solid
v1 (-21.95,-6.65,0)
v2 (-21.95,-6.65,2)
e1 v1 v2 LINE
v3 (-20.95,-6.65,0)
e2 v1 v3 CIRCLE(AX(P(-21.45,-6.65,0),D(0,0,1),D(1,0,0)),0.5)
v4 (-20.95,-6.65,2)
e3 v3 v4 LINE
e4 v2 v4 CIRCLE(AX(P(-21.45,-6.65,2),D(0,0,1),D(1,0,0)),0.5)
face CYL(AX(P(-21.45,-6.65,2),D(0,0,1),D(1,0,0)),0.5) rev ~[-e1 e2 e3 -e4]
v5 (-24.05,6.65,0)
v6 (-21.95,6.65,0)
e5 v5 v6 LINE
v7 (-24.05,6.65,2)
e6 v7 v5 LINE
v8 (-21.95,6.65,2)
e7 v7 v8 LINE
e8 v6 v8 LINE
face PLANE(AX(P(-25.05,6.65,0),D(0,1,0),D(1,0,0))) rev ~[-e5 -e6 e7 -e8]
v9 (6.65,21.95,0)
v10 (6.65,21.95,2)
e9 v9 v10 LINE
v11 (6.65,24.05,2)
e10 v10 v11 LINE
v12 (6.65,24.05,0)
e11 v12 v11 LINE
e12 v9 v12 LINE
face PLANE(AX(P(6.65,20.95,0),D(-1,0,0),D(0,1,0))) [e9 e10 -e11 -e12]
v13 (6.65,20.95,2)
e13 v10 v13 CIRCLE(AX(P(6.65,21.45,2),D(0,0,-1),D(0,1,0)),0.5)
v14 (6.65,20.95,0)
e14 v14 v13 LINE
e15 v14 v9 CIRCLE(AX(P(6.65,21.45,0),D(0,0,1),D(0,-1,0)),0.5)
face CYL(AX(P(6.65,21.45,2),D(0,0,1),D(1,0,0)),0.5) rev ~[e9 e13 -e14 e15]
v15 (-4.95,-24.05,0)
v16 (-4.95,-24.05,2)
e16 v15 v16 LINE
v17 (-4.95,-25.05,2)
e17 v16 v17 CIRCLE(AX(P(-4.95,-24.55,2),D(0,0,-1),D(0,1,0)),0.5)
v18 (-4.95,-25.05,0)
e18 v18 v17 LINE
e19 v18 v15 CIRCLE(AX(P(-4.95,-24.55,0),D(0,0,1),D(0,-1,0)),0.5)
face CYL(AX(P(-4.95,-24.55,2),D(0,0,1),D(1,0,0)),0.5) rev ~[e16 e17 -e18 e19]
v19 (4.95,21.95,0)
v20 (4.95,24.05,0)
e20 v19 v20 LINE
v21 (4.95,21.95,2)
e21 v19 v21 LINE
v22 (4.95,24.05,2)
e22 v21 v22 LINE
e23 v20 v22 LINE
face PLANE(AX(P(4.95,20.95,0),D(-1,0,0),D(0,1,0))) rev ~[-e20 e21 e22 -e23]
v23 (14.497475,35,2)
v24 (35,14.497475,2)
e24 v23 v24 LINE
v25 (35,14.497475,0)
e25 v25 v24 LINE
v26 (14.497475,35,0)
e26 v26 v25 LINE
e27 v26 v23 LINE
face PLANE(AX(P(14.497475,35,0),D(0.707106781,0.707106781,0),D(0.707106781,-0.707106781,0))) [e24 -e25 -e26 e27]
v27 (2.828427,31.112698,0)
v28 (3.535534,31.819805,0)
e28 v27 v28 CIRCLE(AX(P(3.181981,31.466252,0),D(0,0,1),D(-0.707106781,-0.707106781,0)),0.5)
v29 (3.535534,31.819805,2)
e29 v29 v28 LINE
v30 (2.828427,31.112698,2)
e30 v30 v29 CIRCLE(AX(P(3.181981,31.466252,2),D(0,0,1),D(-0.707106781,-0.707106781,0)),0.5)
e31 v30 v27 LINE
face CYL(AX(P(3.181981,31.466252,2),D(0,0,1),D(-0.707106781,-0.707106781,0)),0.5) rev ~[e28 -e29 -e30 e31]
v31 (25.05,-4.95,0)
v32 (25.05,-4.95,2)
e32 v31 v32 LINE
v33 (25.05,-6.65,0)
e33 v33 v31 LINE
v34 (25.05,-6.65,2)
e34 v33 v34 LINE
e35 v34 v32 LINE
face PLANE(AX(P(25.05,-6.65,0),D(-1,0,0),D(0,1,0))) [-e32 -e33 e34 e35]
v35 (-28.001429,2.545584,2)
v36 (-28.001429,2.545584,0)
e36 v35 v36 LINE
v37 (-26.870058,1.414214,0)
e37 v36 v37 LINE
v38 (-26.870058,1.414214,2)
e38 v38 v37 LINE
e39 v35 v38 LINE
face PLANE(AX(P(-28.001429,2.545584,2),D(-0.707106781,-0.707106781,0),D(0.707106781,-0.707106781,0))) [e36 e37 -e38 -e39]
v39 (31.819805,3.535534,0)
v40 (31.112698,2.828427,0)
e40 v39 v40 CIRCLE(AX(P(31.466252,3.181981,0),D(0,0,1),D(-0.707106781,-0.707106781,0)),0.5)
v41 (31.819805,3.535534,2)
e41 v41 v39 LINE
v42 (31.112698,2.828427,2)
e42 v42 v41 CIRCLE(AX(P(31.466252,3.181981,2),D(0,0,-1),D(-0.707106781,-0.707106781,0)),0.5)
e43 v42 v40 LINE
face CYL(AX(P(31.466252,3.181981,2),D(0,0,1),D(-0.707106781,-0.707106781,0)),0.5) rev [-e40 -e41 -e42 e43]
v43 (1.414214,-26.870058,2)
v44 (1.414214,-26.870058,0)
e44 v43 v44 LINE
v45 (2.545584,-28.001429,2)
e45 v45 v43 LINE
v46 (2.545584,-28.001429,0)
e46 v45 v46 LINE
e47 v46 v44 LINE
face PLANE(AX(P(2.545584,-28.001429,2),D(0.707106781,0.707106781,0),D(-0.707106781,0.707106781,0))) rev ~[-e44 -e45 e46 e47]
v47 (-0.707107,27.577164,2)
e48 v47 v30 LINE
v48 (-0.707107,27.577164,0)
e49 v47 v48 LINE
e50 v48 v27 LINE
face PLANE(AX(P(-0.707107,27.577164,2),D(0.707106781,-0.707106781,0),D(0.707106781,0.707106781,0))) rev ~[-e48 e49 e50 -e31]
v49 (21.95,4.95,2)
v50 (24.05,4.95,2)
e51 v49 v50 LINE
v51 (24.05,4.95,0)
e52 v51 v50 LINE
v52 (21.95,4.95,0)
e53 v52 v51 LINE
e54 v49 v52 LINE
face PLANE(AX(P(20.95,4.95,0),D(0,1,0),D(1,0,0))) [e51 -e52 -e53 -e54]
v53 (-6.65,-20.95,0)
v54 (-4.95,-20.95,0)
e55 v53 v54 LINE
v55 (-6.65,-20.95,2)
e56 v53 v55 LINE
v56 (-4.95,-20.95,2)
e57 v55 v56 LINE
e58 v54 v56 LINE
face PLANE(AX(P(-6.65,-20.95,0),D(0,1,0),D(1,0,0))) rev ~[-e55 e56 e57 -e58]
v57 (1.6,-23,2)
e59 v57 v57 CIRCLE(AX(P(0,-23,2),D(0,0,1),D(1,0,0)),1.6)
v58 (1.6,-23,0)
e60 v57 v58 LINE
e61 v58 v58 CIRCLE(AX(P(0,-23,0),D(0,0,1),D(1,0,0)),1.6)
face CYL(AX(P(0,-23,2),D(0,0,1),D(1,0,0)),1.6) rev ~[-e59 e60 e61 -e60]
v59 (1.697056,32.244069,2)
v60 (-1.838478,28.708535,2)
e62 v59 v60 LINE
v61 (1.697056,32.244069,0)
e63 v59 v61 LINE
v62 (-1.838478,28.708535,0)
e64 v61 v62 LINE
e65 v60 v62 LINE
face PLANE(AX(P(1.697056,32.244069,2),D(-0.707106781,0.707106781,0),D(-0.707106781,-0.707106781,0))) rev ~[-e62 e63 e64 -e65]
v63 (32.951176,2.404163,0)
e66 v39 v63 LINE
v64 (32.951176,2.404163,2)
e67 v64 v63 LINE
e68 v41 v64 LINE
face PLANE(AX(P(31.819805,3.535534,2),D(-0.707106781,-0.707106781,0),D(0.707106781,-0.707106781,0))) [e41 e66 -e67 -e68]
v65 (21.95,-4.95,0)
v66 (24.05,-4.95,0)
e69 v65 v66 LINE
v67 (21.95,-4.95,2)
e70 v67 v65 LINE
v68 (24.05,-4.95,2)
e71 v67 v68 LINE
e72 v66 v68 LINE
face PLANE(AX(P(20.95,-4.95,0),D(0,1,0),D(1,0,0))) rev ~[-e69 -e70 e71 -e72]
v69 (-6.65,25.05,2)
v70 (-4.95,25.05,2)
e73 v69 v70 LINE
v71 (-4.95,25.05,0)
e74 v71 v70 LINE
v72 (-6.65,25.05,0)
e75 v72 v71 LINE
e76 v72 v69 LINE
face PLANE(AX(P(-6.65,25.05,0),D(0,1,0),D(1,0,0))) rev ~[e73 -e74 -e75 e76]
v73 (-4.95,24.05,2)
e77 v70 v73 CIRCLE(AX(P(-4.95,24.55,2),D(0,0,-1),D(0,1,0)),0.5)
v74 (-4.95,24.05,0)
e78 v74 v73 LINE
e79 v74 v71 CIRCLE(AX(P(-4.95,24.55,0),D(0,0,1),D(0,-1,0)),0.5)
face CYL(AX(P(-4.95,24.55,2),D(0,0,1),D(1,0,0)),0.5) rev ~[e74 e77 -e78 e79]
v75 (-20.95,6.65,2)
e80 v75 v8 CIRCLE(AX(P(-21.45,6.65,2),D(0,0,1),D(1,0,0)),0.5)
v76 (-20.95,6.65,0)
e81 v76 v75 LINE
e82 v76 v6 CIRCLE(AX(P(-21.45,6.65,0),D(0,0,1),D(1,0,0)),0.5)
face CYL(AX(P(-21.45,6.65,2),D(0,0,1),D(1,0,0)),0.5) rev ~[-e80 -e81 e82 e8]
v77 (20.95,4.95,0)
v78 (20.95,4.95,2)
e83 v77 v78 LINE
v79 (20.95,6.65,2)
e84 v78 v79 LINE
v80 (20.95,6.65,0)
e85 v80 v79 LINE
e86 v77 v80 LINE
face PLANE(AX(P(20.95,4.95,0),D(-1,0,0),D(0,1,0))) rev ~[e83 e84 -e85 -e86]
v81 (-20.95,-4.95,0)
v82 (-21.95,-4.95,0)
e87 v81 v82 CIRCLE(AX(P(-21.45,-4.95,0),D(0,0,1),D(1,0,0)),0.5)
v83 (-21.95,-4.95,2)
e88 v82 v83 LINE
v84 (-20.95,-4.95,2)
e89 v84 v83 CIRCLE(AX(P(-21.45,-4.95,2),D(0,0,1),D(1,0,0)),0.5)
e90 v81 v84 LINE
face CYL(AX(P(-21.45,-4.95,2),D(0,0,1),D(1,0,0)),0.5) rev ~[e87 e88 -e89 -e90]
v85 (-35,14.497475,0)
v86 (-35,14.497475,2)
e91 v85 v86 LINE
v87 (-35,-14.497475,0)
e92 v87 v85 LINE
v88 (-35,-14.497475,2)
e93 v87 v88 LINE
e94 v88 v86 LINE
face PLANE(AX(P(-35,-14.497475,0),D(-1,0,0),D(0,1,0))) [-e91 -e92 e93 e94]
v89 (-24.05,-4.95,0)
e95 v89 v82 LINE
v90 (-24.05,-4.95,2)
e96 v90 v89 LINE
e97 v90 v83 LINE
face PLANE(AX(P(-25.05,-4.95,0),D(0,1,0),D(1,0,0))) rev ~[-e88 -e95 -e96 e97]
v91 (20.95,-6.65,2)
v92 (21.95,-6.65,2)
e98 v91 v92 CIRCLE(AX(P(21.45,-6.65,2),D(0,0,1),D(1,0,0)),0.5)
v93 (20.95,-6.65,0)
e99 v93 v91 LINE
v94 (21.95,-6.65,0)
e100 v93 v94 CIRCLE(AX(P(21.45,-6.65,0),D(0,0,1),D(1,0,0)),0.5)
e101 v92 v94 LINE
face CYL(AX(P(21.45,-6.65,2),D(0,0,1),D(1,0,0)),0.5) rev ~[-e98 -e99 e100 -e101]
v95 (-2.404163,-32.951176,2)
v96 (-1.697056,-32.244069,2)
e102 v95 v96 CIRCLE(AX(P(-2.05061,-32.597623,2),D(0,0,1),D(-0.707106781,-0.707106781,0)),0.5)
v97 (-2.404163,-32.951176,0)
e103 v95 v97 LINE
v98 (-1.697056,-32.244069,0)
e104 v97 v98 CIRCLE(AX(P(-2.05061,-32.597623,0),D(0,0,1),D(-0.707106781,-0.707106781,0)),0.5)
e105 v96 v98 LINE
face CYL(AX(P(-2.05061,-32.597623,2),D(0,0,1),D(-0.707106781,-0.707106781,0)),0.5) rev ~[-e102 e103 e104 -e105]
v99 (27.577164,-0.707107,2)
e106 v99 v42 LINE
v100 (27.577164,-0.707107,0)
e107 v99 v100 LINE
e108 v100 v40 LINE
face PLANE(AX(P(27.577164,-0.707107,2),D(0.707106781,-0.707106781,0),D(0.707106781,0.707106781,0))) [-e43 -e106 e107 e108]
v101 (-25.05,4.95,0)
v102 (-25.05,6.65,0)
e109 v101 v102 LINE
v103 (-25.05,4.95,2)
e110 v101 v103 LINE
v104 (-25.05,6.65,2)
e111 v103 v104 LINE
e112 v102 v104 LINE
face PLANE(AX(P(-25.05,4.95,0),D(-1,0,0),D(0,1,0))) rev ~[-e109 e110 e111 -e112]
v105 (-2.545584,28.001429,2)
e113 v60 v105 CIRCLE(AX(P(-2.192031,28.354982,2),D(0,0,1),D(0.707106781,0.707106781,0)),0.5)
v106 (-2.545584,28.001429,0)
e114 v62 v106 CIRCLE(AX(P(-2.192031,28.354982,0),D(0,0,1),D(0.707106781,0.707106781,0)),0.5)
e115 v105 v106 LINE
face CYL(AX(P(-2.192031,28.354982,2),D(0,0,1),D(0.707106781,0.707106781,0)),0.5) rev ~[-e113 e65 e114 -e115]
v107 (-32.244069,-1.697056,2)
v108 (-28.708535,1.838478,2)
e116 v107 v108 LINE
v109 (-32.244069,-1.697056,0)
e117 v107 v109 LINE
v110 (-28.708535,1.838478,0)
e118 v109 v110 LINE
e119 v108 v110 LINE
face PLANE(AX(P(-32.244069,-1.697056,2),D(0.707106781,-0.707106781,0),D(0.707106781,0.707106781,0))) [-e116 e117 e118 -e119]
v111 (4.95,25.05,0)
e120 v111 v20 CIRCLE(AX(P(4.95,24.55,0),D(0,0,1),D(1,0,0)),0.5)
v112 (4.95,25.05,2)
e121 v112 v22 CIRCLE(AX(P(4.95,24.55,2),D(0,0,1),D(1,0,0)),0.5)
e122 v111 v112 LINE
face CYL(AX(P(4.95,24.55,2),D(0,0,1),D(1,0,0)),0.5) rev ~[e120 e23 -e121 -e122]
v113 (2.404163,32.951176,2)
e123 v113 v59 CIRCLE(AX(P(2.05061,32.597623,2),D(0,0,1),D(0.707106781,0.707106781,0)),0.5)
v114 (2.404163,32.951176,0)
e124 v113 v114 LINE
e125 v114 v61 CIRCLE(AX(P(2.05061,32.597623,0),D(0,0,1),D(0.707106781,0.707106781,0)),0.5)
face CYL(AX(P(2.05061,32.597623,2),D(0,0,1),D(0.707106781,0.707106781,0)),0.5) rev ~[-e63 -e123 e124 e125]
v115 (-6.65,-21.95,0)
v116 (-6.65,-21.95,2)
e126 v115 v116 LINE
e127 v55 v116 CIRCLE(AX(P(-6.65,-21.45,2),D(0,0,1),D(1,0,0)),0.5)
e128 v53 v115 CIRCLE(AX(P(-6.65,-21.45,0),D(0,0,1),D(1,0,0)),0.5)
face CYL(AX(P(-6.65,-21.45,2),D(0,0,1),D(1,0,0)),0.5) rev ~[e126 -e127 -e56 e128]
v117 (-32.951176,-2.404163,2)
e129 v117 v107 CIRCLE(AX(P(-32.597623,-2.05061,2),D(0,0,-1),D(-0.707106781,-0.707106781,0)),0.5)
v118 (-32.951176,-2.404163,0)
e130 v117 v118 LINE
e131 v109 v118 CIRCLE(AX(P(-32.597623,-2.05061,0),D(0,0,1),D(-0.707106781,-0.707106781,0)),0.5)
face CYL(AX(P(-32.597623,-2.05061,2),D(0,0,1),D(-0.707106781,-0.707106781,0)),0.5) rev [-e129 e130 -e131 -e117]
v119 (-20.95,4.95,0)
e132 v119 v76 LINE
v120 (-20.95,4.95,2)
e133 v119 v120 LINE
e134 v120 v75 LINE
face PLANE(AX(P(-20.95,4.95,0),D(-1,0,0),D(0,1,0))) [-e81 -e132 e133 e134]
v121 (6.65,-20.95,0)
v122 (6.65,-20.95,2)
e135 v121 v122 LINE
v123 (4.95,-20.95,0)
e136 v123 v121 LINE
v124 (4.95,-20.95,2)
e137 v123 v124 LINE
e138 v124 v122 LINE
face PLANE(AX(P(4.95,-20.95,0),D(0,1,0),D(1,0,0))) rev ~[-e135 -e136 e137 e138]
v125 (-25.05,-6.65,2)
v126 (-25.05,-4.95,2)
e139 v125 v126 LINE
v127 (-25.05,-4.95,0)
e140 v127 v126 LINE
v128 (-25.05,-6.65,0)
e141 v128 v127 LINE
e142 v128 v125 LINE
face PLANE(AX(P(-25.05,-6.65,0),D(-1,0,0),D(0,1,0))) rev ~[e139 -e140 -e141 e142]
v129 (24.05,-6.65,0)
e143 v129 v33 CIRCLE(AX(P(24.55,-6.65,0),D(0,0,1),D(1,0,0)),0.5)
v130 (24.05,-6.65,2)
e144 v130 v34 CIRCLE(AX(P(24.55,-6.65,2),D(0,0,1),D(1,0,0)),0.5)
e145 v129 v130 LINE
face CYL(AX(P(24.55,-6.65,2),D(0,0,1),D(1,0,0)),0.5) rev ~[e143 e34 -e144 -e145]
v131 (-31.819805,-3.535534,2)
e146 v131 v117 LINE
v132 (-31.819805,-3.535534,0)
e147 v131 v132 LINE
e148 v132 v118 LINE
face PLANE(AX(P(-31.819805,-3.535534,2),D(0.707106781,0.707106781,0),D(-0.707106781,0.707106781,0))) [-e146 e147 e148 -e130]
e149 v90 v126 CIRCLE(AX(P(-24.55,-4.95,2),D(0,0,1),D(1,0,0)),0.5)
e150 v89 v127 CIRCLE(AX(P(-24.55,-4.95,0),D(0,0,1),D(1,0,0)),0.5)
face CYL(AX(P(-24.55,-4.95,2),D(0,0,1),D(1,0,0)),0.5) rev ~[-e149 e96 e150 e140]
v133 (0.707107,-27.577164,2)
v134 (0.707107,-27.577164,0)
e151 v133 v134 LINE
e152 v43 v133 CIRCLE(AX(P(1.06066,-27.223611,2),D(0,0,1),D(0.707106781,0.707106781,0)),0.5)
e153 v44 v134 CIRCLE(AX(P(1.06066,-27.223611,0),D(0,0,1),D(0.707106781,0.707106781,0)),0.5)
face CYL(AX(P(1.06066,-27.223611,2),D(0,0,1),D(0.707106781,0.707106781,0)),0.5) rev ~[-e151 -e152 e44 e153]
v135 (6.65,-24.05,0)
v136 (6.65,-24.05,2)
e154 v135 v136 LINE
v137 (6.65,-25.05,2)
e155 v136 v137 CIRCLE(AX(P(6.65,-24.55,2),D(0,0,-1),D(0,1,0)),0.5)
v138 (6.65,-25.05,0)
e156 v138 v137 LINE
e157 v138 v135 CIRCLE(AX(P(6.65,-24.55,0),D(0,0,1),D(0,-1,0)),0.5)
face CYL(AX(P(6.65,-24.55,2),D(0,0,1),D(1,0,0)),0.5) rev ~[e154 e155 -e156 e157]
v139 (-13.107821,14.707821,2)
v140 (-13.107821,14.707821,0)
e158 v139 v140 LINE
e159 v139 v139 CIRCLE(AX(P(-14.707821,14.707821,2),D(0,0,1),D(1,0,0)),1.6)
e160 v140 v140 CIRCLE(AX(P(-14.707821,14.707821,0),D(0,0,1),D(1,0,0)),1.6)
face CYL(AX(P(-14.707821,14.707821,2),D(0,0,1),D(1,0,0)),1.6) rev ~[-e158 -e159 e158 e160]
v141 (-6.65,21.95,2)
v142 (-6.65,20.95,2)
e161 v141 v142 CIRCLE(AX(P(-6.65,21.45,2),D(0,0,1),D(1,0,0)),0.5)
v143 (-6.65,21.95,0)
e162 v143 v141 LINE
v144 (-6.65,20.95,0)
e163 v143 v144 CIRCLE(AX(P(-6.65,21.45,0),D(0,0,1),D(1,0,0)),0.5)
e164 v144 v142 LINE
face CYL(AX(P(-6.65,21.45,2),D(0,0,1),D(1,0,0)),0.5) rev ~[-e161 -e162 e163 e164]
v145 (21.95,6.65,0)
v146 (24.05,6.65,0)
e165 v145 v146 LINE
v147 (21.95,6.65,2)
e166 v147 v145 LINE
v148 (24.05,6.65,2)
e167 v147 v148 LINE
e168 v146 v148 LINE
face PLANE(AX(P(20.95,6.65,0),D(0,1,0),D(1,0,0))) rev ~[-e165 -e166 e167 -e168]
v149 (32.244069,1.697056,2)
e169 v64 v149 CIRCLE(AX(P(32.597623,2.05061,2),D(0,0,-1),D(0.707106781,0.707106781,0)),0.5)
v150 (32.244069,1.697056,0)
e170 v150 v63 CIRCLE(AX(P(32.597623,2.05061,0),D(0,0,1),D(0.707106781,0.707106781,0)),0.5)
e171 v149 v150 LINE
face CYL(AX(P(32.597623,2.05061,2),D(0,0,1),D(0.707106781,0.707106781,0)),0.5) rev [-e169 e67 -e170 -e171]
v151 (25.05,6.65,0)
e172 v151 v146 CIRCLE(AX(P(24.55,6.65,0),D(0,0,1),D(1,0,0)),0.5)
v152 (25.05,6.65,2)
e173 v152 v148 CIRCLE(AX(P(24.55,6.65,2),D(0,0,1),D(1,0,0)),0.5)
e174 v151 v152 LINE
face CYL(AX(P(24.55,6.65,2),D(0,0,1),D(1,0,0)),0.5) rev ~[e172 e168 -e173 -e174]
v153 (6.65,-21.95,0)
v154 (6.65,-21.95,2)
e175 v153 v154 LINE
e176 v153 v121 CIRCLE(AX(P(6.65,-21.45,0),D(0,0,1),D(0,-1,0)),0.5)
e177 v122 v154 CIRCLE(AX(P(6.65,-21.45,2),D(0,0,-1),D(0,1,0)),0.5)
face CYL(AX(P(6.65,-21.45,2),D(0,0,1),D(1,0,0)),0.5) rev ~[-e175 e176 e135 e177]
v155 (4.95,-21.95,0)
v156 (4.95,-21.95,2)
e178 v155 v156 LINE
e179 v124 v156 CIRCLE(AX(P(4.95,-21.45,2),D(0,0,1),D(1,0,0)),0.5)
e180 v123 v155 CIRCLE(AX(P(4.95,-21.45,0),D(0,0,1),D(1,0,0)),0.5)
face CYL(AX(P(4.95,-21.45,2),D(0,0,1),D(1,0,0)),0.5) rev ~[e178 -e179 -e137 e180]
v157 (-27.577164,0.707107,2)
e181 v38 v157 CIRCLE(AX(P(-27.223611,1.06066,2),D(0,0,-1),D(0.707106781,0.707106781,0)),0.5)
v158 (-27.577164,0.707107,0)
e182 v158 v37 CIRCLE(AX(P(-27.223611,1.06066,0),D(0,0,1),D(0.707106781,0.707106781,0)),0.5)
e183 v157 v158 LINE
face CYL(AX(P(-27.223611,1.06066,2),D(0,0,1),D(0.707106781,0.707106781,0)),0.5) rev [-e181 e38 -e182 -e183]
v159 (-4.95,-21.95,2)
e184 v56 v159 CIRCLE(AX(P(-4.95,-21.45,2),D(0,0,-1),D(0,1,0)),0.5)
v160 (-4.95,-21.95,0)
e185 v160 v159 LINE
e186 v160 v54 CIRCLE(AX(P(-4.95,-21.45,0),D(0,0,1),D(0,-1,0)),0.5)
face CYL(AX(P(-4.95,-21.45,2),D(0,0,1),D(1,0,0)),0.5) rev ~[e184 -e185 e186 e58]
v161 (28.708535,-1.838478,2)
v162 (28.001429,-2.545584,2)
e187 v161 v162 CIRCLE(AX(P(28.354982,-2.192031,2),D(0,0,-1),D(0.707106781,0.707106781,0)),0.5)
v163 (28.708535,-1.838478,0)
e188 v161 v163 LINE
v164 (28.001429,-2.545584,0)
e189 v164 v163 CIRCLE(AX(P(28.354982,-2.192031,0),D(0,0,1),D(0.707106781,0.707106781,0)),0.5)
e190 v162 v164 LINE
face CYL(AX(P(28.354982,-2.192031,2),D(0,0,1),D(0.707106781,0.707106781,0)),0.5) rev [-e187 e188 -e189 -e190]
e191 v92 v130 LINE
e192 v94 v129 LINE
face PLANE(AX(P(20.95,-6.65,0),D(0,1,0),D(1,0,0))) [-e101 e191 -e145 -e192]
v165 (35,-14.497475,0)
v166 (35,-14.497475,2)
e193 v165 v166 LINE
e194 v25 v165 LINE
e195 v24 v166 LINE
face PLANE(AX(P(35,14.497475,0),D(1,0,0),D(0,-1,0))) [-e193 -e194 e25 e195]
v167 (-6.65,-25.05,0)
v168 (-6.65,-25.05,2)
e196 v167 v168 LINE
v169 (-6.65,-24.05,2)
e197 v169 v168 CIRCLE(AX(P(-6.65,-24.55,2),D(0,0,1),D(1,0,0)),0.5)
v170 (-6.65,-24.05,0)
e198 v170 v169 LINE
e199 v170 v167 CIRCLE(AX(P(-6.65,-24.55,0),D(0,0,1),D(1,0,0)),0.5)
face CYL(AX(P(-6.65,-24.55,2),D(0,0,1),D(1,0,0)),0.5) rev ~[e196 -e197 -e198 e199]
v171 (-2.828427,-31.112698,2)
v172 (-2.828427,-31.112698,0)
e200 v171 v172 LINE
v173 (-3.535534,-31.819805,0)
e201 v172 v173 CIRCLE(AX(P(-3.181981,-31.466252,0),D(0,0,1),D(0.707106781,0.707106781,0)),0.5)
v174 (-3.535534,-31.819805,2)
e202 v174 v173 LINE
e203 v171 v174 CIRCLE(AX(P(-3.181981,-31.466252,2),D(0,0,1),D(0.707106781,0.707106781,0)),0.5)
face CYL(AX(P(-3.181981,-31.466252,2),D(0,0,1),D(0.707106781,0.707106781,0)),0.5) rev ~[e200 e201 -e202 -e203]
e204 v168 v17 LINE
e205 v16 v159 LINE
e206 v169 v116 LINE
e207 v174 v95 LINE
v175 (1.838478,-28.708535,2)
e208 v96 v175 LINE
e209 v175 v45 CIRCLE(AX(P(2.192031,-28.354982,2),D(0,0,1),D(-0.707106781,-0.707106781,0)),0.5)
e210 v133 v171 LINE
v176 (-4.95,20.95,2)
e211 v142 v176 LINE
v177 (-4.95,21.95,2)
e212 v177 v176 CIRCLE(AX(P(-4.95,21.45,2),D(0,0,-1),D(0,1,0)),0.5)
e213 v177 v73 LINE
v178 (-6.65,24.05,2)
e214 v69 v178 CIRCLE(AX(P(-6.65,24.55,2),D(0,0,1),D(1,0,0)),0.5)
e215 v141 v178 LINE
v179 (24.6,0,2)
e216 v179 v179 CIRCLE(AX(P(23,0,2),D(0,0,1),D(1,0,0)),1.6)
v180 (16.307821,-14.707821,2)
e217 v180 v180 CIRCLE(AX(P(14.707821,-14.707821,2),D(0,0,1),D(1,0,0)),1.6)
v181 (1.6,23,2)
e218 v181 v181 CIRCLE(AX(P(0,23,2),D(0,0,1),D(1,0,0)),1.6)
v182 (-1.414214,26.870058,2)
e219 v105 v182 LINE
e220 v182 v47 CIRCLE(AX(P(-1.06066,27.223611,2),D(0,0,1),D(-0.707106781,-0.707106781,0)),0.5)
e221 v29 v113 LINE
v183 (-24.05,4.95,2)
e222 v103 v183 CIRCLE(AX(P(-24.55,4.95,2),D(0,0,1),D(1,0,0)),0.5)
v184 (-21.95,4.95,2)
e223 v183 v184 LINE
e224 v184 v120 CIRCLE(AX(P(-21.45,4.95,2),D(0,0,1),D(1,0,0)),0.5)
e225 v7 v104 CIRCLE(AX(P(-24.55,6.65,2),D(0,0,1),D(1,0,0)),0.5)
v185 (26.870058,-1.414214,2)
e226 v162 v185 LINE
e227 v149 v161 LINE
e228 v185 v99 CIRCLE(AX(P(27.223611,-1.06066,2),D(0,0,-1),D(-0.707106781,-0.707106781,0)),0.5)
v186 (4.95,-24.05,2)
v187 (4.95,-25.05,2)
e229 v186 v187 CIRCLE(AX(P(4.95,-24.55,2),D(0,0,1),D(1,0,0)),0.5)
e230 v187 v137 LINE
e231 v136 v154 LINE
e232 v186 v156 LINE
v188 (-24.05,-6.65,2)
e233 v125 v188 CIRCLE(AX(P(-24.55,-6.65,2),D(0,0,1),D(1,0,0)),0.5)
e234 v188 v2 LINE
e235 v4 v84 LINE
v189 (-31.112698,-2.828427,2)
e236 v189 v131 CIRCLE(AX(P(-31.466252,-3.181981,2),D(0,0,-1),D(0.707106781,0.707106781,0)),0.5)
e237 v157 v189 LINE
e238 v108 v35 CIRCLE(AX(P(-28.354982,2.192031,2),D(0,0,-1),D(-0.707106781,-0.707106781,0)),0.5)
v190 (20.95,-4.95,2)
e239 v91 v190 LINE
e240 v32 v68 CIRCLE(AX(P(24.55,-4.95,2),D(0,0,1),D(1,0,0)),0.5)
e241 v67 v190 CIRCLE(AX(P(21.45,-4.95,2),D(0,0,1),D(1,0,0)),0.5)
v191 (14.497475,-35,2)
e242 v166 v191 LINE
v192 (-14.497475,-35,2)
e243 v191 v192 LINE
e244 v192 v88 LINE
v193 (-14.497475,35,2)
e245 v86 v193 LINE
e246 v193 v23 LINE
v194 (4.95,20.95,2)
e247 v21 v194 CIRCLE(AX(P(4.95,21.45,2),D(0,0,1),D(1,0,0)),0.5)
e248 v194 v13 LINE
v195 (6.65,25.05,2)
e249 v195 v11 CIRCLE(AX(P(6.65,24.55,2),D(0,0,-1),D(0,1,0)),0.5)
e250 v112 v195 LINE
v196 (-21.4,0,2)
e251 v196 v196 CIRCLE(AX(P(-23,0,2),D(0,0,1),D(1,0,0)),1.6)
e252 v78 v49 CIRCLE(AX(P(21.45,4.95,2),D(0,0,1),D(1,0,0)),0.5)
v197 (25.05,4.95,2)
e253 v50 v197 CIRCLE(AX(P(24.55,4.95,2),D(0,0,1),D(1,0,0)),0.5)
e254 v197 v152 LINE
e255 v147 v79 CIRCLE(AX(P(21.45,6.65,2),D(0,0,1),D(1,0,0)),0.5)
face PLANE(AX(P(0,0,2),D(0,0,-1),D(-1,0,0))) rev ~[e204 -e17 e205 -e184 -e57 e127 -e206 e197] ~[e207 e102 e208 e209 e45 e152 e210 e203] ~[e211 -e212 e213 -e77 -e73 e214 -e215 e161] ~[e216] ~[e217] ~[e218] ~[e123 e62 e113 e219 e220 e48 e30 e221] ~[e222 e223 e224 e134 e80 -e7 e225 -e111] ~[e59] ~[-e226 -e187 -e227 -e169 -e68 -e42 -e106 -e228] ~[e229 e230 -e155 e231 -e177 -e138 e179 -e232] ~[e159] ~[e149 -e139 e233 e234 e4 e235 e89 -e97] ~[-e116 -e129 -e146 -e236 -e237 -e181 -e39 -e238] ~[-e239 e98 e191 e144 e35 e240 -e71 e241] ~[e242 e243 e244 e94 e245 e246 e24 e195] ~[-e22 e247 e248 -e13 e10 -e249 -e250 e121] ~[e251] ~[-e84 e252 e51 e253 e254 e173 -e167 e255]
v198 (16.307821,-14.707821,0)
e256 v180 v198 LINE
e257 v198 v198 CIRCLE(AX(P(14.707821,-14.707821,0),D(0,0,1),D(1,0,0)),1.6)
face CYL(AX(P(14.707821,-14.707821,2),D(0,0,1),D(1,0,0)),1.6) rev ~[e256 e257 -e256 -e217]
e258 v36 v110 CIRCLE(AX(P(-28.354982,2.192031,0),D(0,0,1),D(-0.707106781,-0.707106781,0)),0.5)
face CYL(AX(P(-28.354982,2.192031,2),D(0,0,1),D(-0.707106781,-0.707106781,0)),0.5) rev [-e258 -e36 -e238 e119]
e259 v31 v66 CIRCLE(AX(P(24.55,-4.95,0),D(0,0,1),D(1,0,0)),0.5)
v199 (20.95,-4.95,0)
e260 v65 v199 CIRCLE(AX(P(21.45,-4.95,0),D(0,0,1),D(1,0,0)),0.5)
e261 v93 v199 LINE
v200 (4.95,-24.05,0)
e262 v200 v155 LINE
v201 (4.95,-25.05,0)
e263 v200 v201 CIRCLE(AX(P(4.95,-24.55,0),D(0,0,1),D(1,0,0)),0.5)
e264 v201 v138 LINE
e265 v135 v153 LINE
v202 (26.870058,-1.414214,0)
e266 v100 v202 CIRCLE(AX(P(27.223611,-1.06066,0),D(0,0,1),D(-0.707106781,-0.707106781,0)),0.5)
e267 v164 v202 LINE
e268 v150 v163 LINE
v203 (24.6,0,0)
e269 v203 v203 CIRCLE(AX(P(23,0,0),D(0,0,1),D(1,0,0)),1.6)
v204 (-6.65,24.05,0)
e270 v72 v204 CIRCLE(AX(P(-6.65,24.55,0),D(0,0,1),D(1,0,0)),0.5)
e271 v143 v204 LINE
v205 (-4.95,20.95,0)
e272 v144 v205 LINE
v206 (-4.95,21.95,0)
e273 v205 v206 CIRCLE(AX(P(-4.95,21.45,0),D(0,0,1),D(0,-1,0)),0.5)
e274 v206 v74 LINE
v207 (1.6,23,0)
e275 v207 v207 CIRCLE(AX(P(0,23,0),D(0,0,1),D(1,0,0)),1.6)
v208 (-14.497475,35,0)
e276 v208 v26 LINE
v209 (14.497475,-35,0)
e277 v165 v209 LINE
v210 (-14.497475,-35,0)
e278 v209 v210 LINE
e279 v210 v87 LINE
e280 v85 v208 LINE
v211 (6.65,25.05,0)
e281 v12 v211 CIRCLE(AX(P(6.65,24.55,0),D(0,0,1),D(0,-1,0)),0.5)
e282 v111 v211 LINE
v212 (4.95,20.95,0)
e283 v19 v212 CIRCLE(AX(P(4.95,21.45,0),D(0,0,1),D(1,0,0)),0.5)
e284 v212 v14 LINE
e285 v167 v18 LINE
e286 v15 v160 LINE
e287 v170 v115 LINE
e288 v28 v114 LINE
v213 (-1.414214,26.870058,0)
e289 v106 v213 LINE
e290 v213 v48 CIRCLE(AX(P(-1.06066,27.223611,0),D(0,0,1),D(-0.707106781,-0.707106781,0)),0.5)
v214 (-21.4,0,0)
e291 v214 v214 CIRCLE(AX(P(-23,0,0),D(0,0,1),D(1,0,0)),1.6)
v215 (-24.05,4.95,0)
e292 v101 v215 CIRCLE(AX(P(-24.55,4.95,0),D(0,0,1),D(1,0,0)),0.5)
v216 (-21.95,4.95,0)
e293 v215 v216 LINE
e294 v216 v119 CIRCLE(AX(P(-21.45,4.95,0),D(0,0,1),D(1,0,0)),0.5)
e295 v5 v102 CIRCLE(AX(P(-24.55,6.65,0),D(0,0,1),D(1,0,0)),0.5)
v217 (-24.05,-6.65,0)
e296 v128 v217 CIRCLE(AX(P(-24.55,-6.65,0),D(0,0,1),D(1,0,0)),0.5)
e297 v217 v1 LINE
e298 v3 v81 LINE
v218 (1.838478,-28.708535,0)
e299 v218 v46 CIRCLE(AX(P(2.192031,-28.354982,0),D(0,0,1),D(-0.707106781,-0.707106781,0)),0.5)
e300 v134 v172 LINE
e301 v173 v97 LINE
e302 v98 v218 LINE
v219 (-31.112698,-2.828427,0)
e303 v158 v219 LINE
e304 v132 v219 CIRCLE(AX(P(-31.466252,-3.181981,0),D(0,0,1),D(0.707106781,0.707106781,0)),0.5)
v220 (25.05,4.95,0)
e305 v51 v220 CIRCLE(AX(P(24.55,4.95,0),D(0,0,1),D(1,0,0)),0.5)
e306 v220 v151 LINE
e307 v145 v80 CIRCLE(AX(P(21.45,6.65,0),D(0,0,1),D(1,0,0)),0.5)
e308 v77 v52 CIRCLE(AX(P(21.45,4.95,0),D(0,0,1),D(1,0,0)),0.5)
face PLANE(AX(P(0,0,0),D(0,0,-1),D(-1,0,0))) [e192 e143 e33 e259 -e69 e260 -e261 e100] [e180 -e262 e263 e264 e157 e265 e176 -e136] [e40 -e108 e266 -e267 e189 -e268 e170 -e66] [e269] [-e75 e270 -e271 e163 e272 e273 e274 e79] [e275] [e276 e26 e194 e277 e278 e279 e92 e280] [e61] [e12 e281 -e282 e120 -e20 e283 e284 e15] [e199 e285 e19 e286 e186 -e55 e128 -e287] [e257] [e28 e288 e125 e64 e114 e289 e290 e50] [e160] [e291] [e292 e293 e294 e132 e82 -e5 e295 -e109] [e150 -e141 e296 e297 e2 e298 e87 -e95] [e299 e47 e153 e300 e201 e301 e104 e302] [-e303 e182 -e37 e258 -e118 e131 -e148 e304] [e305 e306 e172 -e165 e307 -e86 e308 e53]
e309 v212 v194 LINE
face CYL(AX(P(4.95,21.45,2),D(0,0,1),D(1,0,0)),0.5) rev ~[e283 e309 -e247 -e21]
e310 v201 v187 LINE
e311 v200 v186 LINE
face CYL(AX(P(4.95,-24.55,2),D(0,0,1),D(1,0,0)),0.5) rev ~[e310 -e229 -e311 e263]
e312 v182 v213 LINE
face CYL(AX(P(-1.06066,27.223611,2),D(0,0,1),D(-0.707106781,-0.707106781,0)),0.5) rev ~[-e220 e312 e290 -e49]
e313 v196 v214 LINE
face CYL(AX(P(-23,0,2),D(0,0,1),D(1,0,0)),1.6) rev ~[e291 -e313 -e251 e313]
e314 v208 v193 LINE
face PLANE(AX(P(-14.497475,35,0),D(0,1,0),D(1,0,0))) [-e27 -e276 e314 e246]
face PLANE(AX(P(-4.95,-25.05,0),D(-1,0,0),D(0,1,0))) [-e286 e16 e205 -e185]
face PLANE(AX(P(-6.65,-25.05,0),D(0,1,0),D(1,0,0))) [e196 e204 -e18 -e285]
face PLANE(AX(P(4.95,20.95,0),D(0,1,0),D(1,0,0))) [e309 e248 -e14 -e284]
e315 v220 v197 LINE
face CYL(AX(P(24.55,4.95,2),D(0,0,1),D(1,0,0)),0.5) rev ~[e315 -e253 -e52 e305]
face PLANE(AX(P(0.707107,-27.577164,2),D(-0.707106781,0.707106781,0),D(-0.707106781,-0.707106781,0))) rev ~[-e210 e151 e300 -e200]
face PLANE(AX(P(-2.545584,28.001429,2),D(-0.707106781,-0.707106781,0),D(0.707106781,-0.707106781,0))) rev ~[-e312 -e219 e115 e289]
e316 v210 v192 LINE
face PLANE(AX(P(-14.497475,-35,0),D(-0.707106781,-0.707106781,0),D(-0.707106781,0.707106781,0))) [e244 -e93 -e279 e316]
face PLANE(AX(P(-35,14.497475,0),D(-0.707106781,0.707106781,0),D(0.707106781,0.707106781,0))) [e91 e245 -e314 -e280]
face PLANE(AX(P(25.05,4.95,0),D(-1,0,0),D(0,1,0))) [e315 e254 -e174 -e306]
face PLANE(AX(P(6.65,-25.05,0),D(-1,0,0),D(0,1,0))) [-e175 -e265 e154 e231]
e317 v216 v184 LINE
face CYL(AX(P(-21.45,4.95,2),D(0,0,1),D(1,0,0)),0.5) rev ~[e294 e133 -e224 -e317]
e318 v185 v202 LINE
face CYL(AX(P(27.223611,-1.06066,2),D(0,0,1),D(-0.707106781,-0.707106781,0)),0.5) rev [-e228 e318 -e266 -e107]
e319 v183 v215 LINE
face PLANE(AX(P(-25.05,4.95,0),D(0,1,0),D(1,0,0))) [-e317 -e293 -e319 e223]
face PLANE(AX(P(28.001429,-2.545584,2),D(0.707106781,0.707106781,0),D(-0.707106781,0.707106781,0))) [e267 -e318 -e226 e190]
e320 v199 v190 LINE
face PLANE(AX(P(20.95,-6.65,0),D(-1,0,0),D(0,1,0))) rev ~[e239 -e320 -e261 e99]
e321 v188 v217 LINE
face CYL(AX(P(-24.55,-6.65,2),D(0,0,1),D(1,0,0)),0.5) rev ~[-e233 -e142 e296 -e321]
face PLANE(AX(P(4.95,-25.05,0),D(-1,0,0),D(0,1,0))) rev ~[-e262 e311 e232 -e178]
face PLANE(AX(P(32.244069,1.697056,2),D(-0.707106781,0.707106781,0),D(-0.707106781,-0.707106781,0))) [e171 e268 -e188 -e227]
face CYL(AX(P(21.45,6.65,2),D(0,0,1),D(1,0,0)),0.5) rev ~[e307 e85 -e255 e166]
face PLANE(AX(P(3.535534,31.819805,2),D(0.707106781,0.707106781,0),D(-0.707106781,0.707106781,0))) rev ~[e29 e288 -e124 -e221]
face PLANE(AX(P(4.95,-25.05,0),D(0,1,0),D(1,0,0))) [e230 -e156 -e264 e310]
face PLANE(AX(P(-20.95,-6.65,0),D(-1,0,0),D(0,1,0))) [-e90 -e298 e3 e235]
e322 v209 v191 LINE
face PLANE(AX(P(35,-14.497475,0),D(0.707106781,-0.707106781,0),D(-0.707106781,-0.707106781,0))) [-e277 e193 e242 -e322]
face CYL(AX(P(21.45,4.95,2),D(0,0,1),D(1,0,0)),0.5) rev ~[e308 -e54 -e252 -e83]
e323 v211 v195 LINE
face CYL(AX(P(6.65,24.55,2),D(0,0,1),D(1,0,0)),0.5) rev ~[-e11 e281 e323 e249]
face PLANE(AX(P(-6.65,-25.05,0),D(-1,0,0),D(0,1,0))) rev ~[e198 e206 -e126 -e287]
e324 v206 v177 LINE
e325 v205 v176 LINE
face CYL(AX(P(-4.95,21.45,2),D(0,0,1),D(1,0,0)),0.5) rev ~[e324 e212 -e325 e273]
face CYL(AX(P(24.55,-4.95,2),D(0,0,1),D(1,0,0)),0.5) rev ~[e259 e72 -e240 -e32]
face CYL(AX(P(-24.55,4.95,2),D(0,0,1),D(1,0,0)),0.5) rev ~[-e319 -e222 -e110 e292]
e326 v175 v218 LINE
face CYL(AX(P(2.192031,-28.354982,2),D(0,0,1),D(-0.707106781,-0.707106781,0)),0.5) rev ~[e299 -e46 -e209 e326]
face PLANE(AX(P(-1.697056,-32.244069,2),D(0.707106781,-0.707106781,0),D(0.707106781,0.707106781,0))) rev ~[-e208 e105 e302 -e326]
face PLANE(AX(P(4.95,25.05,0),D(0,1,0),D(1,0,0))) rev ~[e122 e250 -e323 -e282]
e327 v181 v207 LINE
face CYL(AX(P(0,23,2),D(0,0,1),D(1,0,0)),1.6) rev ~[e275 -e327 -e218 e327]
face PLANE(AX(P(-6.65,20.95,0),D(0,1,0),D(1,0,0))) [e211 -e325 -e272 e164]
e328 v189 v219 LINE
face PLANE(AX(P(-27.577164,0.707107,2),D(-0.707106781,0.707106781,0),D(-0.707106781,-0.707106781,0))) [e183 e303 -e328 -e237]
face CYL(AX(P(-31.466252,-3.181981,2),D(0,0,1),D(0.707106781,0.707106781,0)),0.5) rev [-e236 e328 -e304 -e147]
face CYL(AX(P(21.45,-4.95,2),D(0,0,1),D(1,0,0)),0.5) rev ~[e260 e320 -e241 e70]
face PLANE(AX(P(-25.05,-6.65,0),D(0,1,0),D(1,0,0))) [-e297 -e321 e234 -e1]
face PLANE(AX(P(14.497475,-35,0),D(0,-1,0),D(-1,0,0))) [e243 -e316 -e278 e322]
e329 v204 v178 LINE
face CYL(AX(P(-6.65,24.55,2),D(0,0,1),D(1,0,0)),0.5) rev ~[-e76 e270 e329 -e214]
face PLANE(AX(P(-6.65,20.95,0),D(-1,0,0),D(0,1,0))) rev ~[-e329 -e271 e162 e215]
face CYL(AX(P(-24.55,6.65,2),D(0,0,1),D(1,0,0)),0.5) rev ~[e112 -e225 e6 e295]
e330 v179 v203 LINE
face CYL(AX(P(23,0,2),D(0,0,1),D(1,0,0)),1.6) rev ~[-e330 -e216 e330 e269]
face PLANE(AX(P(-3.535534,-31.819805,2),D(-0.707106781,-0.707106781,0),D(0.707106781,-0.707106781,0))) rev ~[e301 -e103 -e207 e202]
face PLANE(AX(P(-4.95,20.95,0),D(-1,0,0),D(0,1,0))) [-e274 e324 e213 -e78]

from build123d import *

# Parameters (mm, degrees)
SKETCH1_W           = 4.1
SKETCH1_H           = 1.7
SKETCH1_W_2         = 1.7
SKETCH1_H_2         = 4.1
BOSS_EXTRUDE1_DEPTH = 2
CUT_EXTRUDE1_REACH  = 51.538
SKETCH2_R           = 1.6
CUT_EXTRUDE2_REACH  = 51.538
SKETCH4_R           = 0.5
CUT_EXTRUDE3_DEPTH  = 2
CUT_EXTRUDE4_REACH  = 51.538
SKETCH5_R           = 1.6


with BuildPart() as part:
    # Sketch1 → Boss-Extrude1 (new body)
    with BuildSketch(Plane.XY):
        Polygon((-14.497474683, 35), (14.497474683, 35), (35, 14.497474683), (35, -14.497474683), (14.497474683, -35), (-14.497474683, -35), (-35, -14.497474683), (-35, 14.497474683), align=None)
        with Locations((-23, 5.8)):
            Rectangle(SKETCH1_W, SKETCH1_H, mode=Mode.SUBTRACT)
        with Locations((5.8, 23)):
            Rectangle(SKETCH1_W_2, SKETCH1_H_2, mode=Mode.SUBTRACT)
        with Locations((-23, -5.8)):
            Rectangle(SKETCH1_W, SKETCH1_H, mode=Mode.SUBTRACT)
        with Locations((-5.8, 23)):
            Rectangle(SKETCH1_W_2, SKETCH1_H_2, mode=Mode.SUBTRACT)
        with Locations((23, -5.8)):
            Rectangle(SKETCH1_W, SKETCH1_H, mode=Mode.SUBTRACT)
        with Locations((23, 5.8)):
            Rectangle(SKETCH1_W, SKETCH1_H, mode=Mode.SUBTRACT)
        with Locations((-5.8, -23)):
            Rectangle(SKETCH1_W_2, SKETCH1_H_2, mode=Mode.SUBTRACT)
        with Locations((5.8, -23)):
            Rectangle(SKETCH1_W_2, SKETCH1_H_2, mode=Mode.SUBTRACT)
    extrude(amount=BOSS_EXTRUDE1_DEPTH)

    # Sketch2 → Cut-Extrude1 (cut, up to next)
    with BuildSketch(Plane.XY.offset(2), mode=Mode.PRIVATE) as cut_extrude1_sk1:
        with Locations((-23, 0)):
            Circle(SKETCH2_R)
    cut_extrude1_tool1 = extrude(cut_extrude1_sk1.sketch, amount=-CUT_EXTRUDE1_REACH, mode=Mode.PRIVATE) & part.part
    # Sketch2 → Cut-Extrude1 (cut, up to next)
    with BuildSketch(Plane.XY.offset(2), mode=Mode.PRIVATE) as cut_extrude1_sk2:
        with Locations((0, 23)):
            Circle(SKETCH2_R)
    cut_extrude1_tool2 = extrude(cut_extrude1_sk2.sketch, amount=-CUT_EXTRUDE1_REACH, mode=Mode.PRIVATE) & part.part
    # Sketch2 → Cut-Extrude1 (cut, up to next)
    with BuildSketch(Plane.XY.offset(2), mode=Mode.PRIVATE) as cut_extrude1_sk3:
        with Locations((23, 0)):
            Circle(SKETCH2_R)
    cut_extrude1_tool3 = extrude(cut_extrude1_sk3.sketch, amount=-CUT_EXTRUDE1_REACH, mode=Mode.PRIVATE) & part.part
    # Sketch2 → Cut-Extrude1 (cut, up to next)
    with BuildSketch(Plane.XY.offset(2), mode=Mode.PRIVATE) as cut_extrude1_sk4:
        with Locations((0, -23)):
            Circle(SKETCH2_R)
    cut_extrude1_tool4 = extrude(cut_extrude1_sk4.sketch, amount=-CUT_EXTRUDE1_REACH, mode=Mode.PRIVATE) & part.part
    add(cut_extrude1_tool1.solids().sort_by_distance((-23, 0, 2))[0], mode=Mode.SUBTRACT)
    add(cut_extrude1_tool2.solids().sort_by_distance((0, 23, 2))[0], mode=Mode.SUBTRACT)
    add(cut_extrude1_tool3.solids().sort_by_distance((23, 0, 2))[0], mode=Mode.SUBTRACT)
    add(cut_extrude1_tool4.solids().sort_by_distance((0, -23, 2))[0], mode=Mode.SUBTRACT)

    # Sketch3 → Cut-Extrude2 (cut, up to next)
    with BuildSketch(Plane.XY.offset(2), mode=Mode.PRIVATE) as cut_extrude2_sk1:
        with BuildLine():
            Line((-32.244069222, -1.697056275), (-28.708535316, 1.838477631))
            ThreePointArc((-28.708535316, 1.838477631), (-28.708535316, 2.545584412), (-28.001428535, 2.545584412))
            Line((-28.001428535, 2.545584412), (-26.870057685, 1.414213562))
            ThreePointArc((-26.870057685, 1.414213562), (-26.870057685, 0.707106781), (-27.577164466, 0.707106781))
            Line((-27.577164466, 0.707106781), (-31.112698372, -2.828427125))
            ThreePointArc((-31.112698372, -2.828427125), (-31.112698372, -3.535533906), (-31.819805153, -3.535533906))
            Line((-31.819805153, -3.535533906), (-32.951176003, -2.404163056))
            ThreePointArc((-32.951176003, -2.404163056), (-32.951176003, -1.697056275), (-32.244069222, -1.697056275))
        make_face()
    cut_extrude2_tool1 = extrude(cut_extrude2_sk1.sketch, amount=-CUT_EXTRUDE2_REACH, mode=Mode.PRIVATE) & part.part
    # Sketch3 → Cut-Extrude2 (cut, up to next)
    with BuildSketch(Plane.XY.offset(2), mode=Mode.PRIVATE) as cut_extrude2_sk2:
        with BuildLine():
            Line((-3.535533906, -31.819805153), (-2.404163056, -32.951176003))
            ThreePointArc((-2.404163056, -32.951176003), (-1.697056275, -32.951176003), (-1.697056275, -32.244069222))
            Line((-1.697056275, -32.244069222), (1.838477631, -28.708535316))
            ThreePointArc((1.838477631, -28.708535316), (2.545584412, -28.708535316), (2.545584412, -28.001428535))
            Line((2.545584412, -28.001428535), (1.414213562, -26.870057685))
            ThreePointArc((1.414213562, -26.870057685), (0.707106781, -26.870057685), (0.707106781, -27.577164466))
            Line((0.707106781, -27.577164466), (-2.828427125, -31.112698372))
            ThreePointArc((-2.828427125, -31.112698372), (-3.535533906, -31.112698372), (-3.535533906, -31.819805153))
        make_face()
    cut_extrude2_tool2 = extrude(cut_extrude2_sk2.sketch, amount=-CUT_EXTRUDE2_REACH, mode=Mode.PRIVATE) & part.part
    # Sketch3 → Cut-Extrude2 (cut, up to next)
    with BuildSketch(Plane.XY.offset(2), mode=Mode.PRIVATE) as cut_extrude2_sk3:
        with BuildLine():
            Line((32.244069222, 1.697056275), (28.708535316, -1.838477631))
            ThreePointArc((28.708535316, -1.838477631), (28.708535316, -2.545584412), (28.001428535, -2.545584412))
            Line((28.001428535, -2.545584412), (26.870057685, -1.414213562))
            ThreePointArc((26.870057685, -1.414213562), (26.870057685, -0.707106781), (27.577164466, -0.707106781))
            Line((27.577164466, -0.707106781), (31.112698372, 2.828427125))
            ThreePointArc((31.112698372, 2.828427125), (31.112698372, 3.535533906), (31.819805153, 3.535533906))
            Line((31.819805153, 3.535533906), (32.951176003, 2.404163056))
            ThreePointArc((32.951176003, 2.404163056), (32.951176003, 1.697056275), (32.244069222, 1.697056275))
        make_face()
    cut_extrude2_tool3 = extrude(cut_extrude2_sk3.sketch, amount=-CUT_EXTRUDE2_REACH, mode=Mode.PRIVATE) & part.part
    # Sketch3 → Cut-Extrude2 (cut, up to next)
    with BuildSketch(Plane.XY.offset(2), mode=Mode.PRIVATE) as cut_extrude2_sk4:
        with BuildLine():
            Line((3.535533906, 31.819805153), (2.404163056, 32.951176003))
            ThreePointArc((2.404163056, 32.951176003), (1.697056275, 32.951176003), (1.697056275, 32.244069222))
            Line((1.697056275, 32.244069222), (-1.838477631, 28.708535316))
            ThreePointArc((-1.838477631, 28.708535316), (-2.545584412, 28.708535316), (-2.545584412, 28.001428535))
            Line((-2.545584412, 28.001428535), (-1.414213562, 26.870057685))
            ThreePointArc((-1.414213562, 26.870057685), (-0.707106781, 26.870057685), (-0.707106781, 27.577164466))
            Line((-0.707106781, 27.577164466), (2.828427125, 31.112698372))
            ThreePointArc((2.828427125, 31.112698372), (3.535533906, 31.112698372), (3.535533906, 31.819805153))
        make_face()
    cut_extrude2_tool4 = extrude(cut_extrude2_sk4.sketch, amount=-CUT_EXTRUDE2_REACH, mode=Mode.PRIVATE) & part.part
    add(cut_extrude2_tool1.solids().sort_by_distance((-29.910617, -0.494975, 2))[0], mode=Mode.SUBTRACT)
    add(cut_extrude2_tool2.solids().sort_by_distance((-0.494975, -29.910617, 2))[0], mode=Mode.SUBTRACT)
    add(cut_extrude2_tool3.solids().sort_by_distance((29.910617, 0.494975, 2))[0], mode=Mode.SUBTRACT)
    add(cut_extrude2_tool4.solids().sort_by_distance((0.494975, 29.910617, 2))[0], mode=Mode.SUBTRACT)

    # Sketch4 → Cut-Extrude3 (cut)
    with BuildSketch(Plane.XY.offset(2)):
        with Locations((-24.55, 6.65)):
            Circle(SKETCH4_R)
        with Locations((-24.55, 4.95)):
            Circle(SKETCH4_R)
        with Locations((-21.45, 6.65)):
            Circle(SKETCH4_R)
        with Locations((-21.45, 4.95)):
            Circle(SKETCH4_R)
        with Locations((-21.45, -4.95)):
            Circle(SKETCH4_R)
        with Locations((-21.45, -6.65)):
            Circle(SKETCH4_R)
        with Locations((-24.55, -4.95)):
            Circle(SKETCH4_R)
        with Locations((-24.55, -6.65)):
            Circle(SKETCH4_R)
        with Locations((6.65, 24.55)):
            Circle(SKETCH4_R)
        with Locations((4.95, 24.55)):
            Circle(SKETCH4_R)
        with Locations((6.65, 21.45)):
            Circle(SKETCH4_R)
        with Locations((4.95, 21.45)):
            Circle(SKETCH4_R)
        with Locations((-4.95, 21.45)):
            Circle(SKETCH4_R)
        with Locations((-6.65, 21.45)):
            Circle(SKETCH4_R)
        with Locations((-4.95, 24.55)):
            Circle(SKETCH4_R)
        with Locations((-6.65, 24.55)):
            Circle(SKETCH4_R)
        with Locations((24.55, -6.65)):
            Circle(SKETCH4_R)
        with Locations((24.55, -4.95)):
            Circle(SKETCH4_R)
        with Locations((21.45, -6.65)):
            Circle(SKETCH4_R)
        with Locations((21.45, -4.95)):
            Circle(SKETCH4_R)
        with Locations((21.45, 4.95)):
            Circle(SKETCH4_R)
        with Locations((21.45, 6.65)):
            Circle(SKETCH4_R)
        with Locations((24.55, 4.95)):
            Circle(SKETCH4_R)
        with Locations((24.55, 6.65)):
            Circle(SKETCH4_R)
        with Locations((-6.65, -24.55)):
            Circle(SKETCH4_R)
        with Locations((-4.95, -24.55)):
            Circle(SKETCH4_R)
        with Locations((-6.65, -21.45)):
            Circle(SKETCH4_R)
        with Locations((-4.95, -21.45)):
            Circle(SKETCH4_R)
        with Locations((4.95, -21.45)):
            Circle(SKETCH4_R)
        with Locations((6.65, -21.45)):
            Circle(SKETCH4_R)
        with Locations((4.95, -24.55)):
            Circle(SKETCH4_R)
        with Locations((6.65, -24.55)):
            Circle(SKETCH4_R)
    extrude(amount=-CUT_EXTRUDE3_DEPTH, mode=Mode.SUBTRACT)

    # Sketch5 → Cut-Extrude4 (cut, up to next)
    with BuildSketch(Plane.XY.offset(2), mode=Mode.PRIVATE) as cut_extrude4_sk1:
        with Locations((-14.707821049, 14.707821049)):
            Circle(SKETCH5_R)
    cut_extrude4_tool1 = extrude(cut_extrude4_sk1.sketch, amount=-CUT_EXTRUDE4_REACH, mode=Mode.PRIVATE) & part.part
    # Sketch5 → Cut-Extrude4 (cut, up to next)
    with BuildSketch(Plane.XY.offset(2), mode=Mode.PRIVATE) as cut_extrude4_sk2:
        with Locations((14.707821049, -14.707821049)):
            Circle(SKETCH5_R)
    cut_extrude4_tool2 = extrude(cut_extrude4_sk2.sketch, amount=-CUT_EXTRUDE4_REACH, mode=Mode.PRIVATE) & part.part
    add(cut_extrude4_tool1.solids().sort_by_distance((-14.707821, 14.707821, 2))[0], mode=Mode.SUBTRACT)
    add(cut_extrude4_tool2.solids().sort_by_distance((14.707821, -14.707821, 2))[0], mode=Mode.SUBTRACT)


solid = part.part
